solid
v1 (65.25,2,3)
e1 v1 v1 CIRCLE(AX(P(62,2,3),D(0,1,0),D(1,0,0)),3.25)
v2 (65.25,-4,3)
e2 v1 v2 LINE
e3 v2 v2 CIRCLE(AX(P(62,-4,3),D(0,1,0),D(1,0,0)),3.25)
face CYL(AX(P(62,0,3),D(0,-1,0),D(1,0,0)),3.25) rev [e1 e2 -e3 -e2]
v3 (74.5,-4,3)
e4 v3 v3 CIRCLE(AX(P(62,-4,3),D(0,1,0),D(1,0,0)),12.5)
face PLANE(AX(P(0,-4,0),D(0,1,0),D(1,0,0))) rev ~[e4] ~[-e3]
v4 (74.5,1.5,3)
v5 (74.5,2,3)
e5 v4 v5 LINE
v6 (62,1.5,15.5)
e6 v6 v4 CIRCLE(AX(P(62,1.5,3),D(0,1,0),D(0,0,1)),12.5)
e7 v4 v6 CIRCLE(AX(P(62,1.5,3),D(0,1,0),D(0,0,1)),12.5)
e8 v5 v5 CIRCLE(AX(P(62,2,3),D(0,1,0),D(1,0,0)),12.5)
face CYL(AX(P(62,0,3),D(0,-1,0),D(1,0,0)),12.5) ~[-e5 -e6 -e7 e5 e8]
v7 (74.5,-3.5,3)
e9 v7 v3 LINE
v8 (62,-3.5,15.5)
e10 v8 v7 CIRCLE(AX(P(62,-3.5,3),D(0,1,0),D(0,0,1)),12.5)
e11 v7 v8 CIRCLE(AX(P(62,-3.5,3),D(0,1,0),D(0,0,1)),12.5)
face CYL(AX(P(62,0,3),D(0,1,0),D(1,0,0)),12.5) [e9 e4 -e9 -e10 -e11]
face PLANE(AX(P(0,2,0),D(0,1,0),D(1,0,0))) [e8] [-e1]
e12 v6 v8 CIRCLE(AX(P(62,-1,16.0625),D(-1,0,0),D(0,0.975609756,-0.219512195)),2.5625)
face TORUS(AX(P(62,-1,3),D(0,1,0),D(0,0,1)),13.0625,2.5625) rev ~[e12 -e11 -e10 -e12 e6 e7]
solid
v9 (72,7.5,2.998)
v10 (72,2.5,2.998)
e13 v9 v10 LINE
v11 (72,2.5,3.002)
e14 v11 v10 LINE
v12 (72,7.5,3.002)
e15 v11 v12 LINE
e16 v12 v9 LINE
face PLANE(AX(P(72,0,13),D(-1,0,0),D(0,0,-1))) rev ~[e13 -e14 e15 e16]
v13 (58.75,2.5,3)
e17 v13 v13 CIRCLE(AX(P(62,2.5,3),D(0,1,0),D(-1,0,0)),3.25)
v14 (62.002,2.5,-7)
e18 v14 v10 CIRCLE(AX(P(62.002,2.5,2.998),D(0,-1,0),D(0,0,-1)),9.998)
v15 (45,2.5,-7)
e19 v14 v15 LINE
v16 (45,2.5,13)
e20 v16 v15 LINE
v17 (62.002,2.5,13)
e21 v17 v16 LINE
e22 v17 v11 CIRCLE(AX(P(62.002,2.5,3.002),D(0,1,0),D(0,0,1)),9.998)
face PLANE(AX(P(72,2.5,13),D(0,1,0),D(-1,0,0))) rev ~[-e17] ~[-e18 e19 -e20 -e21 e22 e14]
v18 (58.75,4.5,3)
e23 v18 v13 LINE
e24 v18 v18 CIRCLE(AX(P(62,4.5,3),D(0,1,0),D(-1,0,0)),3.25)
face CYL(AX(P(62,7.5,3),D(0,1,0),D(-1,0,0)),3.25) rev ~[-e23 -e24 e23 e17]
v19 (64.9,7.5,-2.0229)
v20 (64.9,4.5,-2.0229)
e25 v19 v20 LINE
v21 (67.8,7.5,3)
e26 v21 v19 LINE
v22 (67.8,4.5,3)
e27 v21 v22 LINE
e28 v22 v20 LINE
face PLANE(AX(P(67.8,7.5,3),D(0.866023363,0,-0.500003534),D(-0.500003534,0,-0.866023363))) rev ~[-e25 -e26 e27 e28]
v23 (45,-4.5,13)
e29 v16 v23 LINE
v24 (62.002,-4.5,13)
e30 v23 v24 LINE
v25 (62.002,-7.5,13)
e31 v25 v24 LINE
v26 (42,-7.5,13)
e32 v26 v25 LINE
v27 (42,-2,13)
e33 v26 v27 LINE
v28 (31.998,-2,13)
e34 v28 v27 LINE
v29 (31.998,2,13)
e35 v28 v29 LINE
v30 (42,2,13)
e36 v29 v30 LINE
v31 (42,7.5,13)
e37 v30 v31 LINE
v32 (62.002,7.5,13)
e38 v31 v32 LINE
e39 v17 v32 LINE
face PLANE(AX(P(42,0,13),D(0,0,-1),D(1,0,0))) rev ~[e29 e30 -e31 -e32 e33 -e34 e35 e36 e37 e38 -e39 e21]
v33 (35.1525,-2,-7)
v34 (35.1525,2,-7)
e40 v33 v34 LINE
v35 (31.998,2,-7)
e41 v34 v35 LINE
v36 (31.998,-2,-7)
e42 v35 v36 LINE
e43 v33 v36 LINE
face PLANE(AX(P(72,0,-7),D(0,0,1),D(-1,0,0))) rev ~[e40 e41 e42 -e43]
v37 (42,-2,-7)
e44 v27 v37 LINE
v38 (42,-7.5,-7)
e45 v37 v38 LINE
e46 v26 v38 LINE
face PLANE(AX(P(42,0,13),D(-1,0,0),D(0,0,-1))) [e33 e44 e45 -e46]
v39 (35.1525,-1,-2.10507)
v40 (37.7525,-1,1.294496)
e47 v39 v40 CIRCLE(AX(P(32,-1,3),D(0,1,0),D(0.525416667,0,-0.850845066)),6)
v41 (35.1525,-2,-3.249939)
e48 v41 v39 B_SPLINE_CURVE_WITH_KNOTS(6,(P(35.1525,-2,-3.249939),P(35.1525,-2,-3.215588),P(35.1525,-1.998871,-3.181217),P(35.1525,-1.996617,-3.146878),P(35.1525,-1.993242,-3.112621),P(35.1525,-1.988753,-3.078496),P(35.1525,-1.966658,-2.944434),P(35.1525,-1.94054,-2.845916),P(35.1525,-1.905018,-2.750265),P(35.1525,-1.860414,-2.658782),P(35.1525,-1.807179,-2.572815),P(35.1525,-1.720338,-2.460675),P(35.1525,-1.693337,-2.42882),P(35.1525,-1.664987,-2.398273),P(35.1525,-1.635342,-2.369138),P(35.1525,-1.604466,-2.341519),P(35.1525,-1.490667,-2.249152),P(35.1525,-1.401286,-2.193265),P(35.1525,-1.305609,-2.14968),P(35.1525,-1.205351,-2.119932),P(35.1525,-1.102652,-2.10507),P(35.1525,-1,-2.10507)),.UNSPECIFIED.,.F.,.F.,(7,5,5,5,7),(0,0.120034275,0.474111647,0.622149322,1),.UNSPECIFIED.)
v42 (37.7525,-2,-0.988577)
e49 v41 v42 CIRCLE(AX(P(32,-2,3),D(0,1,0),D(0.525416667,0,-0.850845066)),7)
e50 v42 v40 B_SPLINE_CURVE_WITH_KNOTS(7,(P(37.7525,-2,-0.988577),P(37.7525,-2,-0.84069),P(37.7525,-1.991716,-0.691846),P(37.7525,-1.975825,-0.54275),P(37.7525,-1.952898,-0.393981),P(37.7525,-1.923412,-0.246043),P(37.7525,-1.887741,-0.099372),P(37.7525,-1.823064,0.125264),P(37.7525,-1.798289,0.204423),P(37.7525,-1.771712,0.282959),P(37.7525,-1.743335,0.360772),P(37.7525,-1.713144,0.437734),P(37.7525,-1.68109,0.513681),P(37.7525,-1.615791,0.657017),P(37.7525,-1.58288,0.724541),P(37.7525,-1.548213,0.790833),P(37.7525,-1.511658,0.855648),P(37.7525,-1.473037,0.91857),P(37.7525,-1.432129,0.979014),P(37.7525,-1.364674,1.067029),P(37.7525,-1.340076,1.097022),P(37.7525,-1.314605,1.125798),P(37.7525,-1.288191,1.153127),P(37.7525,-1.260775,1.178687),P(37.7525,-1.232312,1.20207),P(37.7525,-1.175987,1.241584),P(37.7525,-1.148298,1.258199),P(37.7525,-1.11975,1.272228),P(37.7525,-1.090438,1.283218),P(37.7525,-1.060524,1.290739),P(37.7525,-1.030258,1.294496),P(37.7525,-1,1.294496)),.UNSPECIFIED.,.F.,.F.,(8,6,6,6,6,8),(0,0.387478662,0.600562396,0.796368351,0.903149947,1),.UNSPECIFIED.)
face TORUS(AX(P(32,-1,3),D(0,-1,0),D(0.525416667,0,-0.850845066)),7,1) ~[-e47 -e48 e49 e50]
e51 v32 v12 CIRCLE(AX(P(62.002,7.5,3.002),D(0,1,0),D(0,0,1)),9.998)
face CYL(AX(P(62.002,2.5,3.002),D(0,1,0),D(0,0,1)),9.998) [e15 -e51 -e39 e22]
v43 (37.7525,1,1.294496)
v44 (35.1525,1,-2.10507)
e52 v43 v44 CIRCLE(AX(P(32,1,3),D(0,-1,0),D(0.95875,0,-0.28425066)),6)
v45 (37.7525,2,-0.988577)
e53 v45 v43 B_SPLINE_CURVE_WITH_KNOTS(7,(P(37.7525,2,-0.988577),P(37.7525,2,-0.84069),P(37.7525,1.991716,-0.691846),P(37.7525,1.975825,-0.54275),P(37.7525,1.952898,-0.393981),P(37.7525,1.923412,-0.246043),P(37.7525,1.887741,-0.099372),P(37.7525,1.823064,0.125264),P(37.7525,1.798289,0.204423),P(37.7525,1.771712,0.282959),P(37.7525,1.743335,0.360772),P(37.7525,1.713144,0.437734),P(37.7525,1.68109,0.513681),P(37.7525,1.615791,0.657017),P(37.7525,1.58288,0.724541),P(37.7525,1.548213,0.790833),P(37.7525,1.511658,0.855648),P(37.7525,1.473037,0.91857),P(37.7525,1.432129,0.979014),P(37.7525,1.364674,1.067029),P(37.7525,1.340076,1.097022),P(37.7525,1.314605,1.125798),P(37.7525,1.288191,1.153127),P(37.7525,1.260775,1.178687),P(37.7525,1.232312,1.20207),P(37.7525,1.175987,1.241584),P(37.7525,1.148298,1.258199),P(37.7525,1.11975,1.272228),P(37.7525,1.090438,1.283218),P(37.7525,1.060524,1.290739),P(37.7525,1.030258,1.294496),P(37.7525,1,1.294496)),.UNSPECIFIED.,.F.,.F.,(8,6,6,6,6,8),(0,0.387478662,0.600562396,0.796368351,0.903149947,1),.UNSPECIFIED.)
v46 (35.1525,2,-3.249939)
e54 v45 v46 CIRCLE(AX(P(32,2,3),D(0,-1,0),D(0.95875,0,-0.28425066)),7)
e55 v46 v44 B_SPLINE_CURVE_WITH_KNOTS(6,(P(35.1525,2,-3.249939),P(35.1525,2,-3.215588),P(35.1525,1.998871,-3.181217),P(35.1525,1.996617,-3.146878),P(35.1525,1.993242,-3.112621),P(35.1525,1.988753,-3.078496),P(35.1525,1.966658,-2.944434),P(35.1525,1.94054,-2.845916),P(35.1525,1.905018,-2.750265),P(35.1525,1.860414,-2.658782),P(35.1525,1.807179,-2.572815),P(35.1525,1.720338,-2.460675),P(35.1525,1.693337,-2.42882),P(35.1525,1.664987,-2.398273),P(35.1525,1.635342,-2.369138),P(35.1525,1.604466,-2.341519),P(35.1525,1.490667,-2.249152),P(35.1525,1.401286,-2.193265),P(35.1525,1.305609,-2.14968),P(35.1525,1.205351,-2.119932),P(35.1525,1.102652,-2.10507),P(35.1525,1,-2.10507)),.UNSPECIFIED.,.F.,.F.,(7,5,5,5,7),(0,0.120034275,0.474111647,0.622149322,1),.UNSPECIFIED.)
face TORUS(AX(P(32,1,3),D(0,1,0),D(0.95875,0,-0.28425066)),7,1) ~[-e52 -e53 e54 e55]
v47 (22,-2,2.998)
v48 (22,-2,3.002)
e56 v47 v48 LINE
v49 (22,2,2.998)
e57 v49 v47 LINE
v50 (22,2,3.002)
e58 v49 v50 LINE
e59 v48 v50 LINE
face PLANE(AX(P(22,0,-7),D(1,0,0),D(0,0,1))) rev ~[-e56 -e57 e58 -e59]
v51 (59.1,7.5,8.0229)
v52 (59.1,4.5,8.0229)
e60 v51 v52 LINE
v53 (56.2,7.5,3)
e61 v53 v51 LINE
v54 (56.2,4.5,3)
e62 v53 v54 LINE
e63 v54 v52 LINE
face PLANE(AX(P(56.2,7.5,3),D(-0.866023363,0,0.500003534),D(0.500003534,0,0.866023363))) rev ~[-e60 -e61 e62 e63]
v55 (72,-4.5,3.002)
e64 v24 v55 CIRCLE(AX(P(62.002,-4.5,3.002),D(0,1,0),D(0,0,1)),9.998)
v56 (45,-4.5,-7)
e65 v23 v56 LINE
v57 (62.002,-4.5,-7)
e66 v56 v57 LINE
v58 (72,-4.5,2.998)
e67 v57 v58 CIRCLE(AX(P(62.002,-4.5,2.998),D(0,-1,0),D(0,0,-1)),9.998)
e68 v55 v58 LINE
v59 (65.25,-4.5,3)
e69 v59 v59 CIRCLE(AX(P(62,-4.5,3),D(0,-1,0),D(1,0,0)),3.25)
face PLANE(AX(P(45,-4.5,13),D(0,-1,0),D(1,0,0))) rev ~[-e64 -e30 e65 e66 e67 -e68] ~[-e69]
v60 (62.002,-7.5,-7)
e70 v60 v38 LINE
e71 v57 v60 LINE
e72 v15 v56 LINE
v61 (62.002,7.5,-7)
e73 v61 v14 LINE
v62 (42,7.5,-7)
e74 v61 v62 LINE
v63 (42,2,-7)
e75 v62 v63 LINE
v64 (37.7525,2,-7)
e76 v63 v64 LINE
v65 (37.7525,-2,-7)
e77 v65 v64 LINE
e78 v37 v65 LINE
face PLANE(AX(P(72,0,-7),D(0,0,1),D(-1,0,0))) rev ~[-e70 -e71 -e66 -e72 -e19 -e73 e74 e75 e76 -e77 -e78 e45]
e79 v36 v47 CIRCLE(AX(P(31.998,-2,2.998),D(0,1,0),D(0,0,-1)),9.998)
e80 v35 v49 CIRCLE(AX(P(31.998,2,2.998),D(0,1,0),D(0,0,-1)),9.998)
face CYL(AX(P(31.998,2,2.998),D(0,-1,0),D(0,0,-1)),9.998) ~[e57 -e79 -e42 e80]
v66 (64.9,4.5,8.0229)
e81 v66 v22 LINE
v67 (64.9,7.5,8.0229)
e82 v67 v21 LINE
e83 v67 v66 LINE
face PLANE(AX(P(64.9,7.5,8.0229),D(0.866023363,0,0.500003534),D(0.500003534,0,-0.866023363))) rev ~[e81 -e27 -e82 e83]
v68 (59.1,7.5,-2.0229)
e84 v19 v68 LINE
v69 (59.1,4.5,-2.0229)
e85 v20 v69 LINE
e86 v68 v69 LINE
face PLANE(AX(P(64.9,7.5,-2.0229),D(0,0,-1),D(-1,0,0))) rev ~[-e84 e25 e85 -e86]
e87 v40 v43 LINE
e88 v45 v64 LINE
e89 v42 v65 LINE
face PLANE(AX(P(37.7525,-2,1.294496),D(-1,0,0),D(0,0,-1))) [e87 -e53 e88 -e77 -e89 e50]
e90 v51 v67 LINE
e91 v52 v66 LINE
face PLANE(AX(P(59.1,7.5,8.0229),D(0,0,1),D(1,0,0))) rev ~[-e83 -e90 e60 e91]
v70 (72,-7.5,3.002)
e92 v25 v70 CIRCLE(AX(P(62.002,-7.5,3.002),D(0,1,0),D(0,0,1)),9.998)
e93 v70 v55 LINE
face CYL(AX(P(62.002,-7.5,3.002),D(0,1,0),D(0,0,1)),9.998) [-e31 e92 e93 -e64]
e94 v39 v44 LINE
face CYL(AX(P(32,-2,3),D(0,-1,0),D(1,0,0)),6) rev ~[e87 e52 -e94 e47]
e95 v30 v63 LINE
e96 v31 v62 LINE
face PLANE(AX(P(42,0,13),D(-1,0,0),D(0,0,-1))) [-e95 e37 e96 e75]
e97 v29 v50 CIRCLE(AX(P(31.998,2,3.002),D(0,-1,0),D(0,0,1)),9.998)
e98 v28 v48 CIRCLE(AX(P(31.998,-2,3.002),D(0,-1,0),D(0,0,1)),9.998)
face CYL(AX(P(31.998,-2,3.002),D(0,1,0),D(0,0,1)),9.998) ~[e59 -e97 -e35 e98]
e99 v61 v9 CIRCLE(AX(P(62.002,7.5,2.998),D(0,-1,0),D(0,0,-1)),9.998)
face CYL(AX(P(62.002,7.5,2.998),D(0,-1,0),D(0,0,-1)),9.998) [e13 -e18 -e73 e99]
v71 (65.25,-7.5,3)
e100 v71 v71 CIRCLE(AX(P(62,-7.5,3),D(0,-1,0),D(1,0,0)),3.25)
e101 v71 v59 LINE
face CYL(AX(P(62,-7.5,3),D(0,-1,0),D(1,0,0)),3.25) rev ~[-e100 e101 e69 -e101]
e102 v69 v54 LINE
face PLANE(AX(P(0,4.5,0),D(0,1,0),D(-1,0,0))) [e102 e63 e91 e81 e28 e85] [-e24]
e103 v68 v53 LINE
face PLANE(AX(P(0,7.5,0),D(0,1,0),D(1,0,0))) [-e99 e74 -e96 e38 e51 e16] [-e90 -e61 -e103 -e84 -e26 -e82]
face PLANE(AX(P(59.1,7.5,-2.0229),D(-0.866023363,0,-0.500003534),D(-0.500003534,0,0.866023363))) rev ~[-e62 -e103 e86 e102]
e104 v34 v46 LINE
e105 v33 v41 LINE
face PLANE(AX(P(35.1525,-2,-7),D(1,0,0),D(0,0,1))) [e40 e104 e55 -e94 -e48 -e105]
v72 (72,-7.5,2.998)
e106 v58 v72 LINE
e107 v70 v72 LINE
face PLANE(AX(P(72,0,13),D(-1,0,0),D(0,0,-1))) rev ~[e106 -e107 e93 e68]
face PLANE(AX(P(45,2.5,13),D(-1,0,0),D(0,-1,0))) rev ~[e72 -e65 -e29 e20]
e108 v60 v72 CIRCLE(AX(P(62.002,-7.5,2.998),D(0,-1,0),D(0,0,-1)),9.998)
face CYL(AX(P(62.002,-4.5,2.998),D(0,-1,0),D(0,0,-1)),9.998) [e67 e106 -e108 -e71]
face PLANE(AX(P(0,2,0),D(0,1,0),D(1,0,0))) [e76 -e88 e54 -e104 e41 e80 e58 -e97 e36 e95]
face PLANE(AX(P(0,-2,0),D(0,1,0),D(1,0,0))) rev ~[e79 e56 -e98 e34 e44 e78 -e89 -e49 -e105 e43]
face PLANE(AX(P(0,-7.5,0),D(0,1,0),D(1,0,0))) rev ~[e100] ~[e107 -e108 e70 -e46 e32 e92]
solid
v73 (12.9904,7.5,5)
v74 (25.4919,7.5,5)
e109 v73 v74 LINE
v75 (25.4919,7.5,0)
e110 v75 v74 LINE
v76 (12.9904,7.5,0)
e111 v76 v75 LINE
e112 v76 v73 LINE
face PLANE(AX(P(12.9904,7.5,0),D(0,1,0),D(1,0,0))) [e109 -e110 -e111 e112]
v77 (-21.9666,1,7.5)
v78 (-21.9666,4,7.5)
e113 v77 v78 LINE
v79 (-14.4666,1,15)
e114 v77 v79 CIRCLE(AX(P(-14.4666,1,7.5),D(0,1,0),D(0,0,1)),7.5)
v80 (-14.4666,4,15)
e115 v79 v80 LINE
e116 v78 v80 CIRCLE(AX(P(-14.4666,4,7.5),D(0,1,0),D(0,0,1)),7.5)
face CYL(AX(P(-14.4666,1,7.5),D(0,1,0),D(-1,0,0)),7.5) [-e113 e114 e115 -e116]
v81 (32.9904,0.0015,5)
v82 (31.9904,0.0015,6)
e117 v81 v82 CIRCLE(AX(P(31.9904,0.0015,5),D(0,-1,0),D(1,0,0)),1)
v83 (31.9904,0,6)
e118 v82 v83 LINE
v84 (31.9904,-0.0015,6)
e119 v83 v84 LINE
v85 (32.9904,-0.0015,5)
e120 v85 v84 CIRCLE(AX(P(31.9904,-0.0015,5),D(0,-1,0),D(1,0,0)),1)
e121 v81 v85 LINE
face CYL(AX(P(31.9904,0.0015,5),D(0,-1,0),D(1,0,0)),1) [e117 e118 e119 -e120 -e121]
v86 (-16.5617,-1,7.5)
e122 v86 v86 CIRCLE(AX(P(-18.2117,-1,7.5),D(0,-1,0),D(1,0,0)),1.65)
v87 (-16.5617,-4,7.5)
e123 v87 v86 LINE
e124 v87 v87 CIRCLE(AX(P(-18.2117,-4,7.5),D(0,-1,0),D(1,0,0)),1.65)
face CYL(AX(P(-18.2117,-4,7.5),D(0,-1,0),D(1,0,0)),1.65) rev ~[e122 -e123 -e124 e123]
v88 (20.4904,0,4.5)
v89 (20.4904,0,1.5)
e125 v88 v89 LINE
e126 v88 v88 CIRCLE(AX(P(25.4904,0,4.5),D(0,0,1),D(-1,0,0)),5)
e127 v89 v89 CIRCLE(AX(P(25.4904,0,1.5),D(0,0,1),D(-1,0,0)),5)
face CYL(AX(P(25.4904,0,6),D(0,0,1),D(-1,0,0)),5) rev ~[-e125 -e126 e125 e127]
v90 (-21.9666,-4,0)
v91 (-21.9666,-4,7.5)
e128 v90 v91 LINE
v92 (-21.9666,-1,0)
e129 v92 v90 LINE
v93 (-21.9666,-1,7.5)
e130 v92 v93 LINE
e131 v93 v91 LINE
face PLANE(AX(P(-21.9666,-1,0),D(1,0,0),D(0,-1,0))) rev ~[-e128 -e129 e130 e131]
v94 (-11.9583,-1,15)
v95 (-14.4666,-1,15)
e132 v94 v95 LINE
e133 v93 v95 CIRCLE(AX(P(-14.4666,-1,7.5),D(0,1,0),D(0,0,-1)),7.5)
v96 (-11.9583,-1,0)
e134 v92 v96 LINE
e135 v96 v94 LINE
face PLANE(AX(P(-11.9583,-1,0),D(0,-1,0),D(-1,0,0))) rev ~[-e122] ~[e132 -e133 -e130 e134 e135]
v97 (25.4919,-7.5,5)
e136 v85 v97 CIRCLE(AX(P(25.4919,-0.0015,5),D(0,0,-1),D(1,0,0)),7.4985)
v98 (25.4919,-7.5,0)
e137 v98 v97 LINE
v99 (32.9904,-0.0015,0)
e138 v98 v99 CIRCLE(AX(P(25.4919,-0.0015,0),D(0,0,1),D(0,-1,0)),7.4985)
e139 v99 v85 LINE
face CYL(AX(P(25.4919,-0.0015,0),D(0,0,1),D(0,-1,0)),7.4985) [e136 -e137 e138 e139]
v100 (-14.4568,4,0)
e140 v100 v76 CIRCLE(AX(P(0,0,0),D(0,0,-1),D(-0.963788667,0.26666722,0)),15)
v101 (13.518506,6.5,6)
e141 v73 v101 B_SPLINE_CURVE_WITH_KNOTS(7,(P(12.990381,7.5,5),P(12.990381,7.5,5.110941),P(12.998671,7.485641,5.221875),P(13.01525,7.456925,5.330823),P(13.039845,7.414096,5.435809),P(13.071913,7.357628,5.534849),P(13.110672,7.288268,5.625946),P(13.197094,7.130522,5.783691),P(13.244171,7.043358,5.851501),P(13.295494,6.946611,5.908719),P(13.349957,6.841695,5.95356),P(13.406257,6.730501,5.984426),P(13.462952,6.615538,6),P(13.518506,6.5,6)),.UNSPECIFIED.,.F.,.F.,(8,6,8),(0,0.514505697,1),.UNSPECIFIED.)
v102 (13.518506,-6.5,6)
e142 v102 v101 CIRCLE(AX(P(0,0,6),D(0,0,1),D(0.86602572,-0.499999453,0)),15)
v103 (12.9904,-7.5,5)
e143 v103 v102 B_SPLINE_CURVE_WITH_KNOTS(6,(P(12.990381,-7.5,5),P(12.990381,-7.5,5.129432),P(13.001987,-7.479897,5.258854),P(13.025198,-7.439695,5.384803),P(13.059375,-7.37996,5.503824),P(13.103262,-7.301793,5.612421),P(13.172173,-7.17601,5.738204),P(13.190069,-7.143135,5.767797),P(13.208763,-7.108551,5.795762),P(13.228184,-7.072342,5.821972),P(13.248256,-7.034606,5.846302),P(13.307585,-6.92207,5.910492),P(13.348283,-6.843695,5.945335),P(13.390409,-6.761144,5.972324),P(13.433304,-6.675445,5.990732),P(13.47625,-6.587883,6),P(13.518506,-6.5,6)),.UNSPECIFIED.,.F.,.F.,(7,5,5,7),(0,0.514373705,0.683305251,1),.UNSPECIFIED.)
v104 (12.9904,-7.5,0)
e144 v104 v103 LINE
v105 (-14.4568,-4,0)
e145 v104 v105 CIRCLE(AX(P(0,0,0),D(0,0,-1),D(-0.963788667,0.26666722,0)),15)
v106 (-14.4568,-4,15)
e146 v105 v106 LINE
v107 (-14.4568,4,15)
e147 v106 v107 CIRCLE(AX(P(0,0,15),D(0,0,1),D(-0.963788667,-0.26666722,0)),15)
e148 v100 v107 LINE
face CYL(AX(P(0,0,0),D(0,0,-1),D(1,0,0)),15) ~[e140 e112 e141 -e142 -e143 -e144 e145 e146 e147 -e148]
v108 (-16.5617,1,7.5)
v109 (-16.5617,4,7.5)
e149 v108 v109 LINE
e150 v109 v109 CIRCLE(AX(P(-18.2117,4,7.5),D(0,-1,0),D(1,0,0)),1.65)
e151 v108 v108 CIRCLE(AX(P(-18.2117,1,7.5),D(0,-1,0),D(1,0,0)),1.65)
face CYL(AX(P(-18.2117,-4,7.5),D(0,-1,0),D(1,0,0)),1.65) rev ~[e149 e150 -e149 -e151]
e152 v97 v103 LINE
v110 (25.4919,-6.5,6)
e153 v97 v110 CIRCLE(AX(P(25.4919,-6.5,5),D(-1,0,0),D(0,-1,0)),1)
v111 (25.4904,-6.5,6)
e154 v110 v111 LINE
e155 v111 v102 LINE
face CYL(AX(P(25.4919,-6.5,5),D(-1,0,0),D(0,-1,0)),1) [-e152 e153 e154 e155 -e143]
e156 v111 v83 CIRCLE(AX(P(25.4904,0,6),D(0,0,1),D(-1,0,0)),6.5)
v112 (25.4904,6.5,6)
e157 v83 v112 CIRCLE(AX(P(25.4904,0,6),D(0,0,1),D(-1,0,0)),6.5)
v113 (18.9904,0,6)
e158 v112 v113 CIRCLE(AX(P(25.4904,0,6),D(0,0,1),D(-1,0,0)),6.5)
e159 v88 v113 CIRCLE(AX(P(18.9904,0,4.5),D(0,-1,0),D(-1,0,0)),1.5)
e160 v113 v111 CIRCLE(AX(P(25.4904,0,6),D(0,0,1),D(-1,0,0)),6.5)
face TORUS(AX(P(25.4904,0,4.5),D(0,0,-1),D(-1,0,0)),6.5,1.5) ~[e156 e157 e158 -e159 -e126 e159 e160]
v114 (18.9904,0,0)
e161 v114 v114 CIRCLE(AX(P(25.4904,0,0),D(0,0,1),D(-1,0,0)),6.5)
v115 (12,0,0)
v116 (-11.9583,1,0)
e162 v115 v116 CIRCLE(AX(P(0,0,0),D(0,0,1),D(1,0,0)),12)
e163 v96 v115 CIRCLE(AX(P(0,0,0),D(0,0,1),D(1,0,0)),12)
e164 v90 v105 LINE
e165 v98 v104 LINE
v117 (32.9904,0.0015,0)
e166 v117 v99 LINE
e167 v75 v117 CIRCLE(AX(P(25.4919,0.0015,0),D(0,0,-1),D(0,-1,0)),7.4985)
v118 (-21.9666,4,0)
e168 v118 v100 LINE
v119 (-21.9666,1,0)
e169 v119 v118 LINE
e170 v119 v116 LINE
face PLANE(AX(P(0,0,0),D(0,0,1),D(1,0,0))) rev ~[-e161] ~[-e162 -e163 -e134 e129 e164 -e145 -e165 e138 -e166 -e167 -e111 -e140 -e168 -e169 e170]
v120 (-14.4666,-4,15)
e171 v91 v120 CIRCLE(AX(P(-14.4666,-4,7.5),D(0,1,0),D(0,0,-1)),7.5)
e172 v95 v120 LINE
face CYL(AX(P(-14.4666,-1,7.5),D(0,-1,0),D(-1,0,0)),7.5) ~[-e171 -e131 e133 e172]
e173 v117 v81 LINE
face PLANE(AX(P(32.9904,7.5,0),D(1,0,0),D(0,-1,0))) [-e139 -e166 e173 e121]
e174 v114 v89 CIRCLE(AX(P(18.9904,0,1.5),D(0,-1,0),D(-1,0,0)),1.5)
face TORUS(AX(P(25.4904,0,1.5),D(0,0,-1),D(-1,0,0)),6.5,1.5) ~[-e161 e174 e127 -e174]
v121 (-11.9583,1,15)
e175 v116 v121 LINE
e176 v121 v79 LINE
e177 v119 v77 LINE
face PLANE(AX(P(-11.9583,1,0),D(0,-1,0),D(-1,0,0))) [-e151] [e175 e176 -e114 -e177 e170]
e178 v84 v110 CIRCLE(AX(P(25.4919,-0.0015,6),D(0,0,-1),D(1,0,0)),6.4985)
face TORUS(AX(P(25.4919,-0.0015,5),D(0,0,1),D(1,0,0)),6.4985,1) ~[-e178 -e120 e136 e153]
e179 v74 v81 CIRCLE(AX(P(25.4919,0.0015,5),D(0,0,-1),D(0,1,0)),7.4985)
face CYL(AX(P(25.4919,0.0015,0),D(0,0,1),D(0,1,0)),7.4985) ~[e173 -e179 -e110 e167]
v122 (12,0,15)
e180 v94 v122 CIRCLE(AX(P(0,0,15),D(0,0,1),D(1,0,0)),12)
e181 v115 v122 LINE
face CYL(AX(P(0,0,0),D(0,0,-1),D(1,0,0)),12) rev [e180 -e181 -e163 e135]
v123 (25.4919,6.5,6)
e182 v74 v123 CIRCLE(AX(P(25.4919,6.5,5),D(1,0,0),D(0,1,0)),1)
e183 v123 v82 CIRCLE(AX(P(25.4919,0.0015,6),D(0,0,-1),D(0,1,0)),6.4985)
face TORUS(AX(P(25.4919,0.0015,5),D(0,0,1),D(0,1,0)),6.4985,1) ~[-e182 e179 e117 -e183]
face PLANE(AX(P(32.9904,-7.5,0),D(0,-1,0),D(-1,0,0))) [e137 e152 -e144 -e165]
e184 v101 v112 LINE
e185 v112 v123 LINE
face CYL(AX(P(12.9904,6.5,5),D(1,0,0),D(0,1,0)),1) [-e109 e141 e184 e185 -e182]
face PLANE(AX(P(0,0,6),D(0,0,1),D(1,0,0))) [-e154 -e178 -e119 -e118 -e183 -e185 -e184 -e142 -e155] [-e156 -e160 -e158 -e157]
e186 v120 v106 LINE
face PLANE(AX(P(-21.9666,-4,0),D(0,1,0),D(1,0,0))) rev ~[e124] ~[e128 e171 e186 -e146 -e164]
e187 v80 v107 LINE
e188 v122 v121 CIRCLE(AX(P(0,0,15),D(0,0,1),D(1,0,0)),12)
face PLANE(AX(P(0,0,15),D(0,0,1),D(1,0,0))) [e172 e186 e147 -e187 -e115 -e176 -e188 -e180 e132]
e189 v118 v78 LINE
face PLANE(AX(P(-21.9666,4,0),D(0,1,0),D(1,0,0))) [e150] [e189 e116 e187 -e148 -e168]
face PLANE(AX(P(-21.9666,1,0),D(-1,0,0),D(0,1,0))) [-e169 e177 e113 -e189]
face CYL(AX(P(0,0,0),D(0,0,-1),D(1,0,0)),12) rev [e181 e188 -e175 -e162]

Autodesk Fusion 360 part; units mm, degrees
sketch "Sketch1" plane through (0, 0, 0) normal (0, 0, 1) x (1, 0, 0) in component "Mount"
  circle A0 centre (0, 0) radius 12
  circle A1 centre (0, 0) radius 15
  line L0 (0, 0) -> (-35, 0) construction
  line L1 (-11.9583, 1) -> (-14.9666, 1)
  line L2 (-11.9583, -1) -> (-14.9666, -1)
  line L3 (-14.9666, 1) -> (-21.9666, 1)
  line L4 (-21.9666, 1) -> (-21.9666, 4)
  line L5 (-21.9666, 4) -> (-14.4568, 4)
  line L6 (-21.9666, -4) -> (-14.4568, -4)
  line L7 (-21.9666, -1) -> (-21.9666, -4)
  line L8 (-14.9666, -1) -> (-21.9666, -1)
  line L9 (12.9904, 7.5) -> (32.9904, 7.5)
  line L10 (32.9904, 7.5) -> (32.9904, -7.5)
  line L11 (32.9904, -7.5) -> (12.9904, -7.5)
  dimension "d1" = 24
  dimension "d2" = 3
  dimension "d3" = 1
  dimension "d4" = 7
  dimension "d5" = 3
  dimension "d6" = 20
  dimension "d7" = 15
  dimension "d8" = 7.5
extrude "Extrude1" add sketch "Sketch1" along normal blind 15 contours A0 A1 L1 L2 | A1 L3 L4 L5 | A1 L6 L7 L8 picked at (11.5885, 7.8068) makes body 1 in component "Mount"
extrude "Extrude2" add sketch "Sketch1" along normal blind 6 contours A1 L9 L10 L11 bodies 1 in component "Mount"
sketch "Sketch2" plane through (0, 0, 6) normal (0, 0, 1) x (-1, 0, 0) in component "Mount"
  line L0 (-32.9904, 7.5) -> (-32.9904, -7.5)
  line L1 (-32.9904, -7.5) -> (-12.9904, -7.5)
  arc A0 (-12.9904, 7.5) -> (-12.9904, -7.5) centre (0, 0) ccw
  line L2 (-12.9904, 7.5) -> (-32.9904, 7.5)
  line L3 (-32.9904, -7.5) -> (-17.9904, 7.5) construction
  line L4 (-32.9904, -7.5) -> (-12.6364, -7.5) construction
  line L5 (-32.9904, 7.5) -> (-17.9904, -7.5) construction
  line L6 (-32.9904, 7.5) -> (-12.6364, 7.5) construction
  circle A1 centre (-25.4904, 0) radius 5
  dimension "d13" = 45
  dimension "d14" = 45
  dimension "d15" = 10
extrude "Extrude3" cut sketch "Sketch2" against normal blind 10 contours A1 bodies 1 in component "Mount"
fillet "Fillet1" radius 1.5 2 edges at (30.152, -1.8081, 6) (30.152, 1.8081, 0) on bodies 1 in component "Mount"
fillet "Fillet2" radius 7.5 2 edges at (32.9904, -7.5, 3) (32.9904, 7.5, 3) on bodies 1 in component "Mount"
fillet "Fillet3" radius 1 3 edges at (19.2404, 7.5, 6) (32.9904, 0, 6) (19.2404, -7.5, 6) on bodies 1 in component "Mount"
sketch "Sketch3" plane through (0, -4, 0) normal (0, -1, 0) x (1, 0, 0) in component "Mount"
  line L0 (-21.9666, 0) -> (-14.4568, 0)
  line L1 (-14.4568, 0) -> (-14.4568, 15)
  line L2 (-14.4568, 15) -> (-21.9666, 15)
  line L3 (-21.9666, 15) -> (-21.9666, 0)
  circle A0 centre (-18.2117, 7.5) radius 1.65
  line L4 (-21.9666, 7.5) -> (-14.4568, 7.5) construction
  dimension "d24" = 3.3
extrude "Extrude4" cut sketch "Sketch3" against normal blind 8 contours A0 bodies 1 in component "Mount"
fillet "Fillet4" radius 7.5 2 edges at (-21.9666, 2.5, 15) (-21.9666, -2.5, 15) on bodies 1 in component "Mount"
copy_body "CutPasteBodies1" bodies 1 removing the originals makes body 2 in component "Mount"
sketch "Sketch1 (2)" plane through (0, 0, 0) normal (0, 1, 0) x (1, 0, 0) in component "Housing"
  line L0 (22, -13) -> (72, -13)
  line L1 (72, -13) -> (72, 7)
  line L2 (72, 7) -> (22, 7)
  line L3 (22, 7) -> (22, -13)
  line L4 (72, -13) -> (42, -13)
  line L5 (42, -13) -> (42, 7)
  line L6 (42, 7) -> (72, 7)
  line L7 (72, 7) -> (72, -13)
  dimension "d29" = 22
  dimension "d30" = 20
  dimension "d31" = 7
  dimension "d32" = 50
  dimension "d33" = 30
extrude "Extrude1'" add sketch "Sketch1 (2)" along normal mid plane 15 separate body contours L0 L1 L2 L4 L5 L6 L7 makes body 3 in component "Housing"
extrude "Extrude2'" add sketch "Sketch1 (2)" along normal mid plane 4 contours L0 L2 L3 L5 bodies 3 in component "Housing"
sketch "Sketch1 (1)" plane through (0, -2, 0) normal (0, -1, 0) x (1, 0, 0) in component "Housing"
  line L0 (42, -7) -> (42, 13)
  line L1 (42, 13) -> (22, 13)
  line L2 (22, 13) -> (22, -7)
  line L3 (22, -7) -> (42, -7)
  circle A0 centre (32, 3) radius 6
  dimension "d40" = 12
  dimension "d41" = 10
  dimension "d42" = 10
extrude "Extrude3'" cut sketch "Sketch1 (1)" against normal blind 4 contours A0 bodies 3 in component "Housing"
fillet "Fillet1'" radius 10 2 edges at (22, 0, 13) (22, 0, -7) on bodies 3 in component "Housing"
sketch "Sketch2 (2)" plane through (0, -2, 0) normal (0, -1, 0) x (1, 0, 0) in component "Housing"
  arc A0 (32, 13) -> (32, -7) centre (32, 3) ccw
  line L0 (32, -7) -> (42, -7)
  line L1 (42, -7) -> (42, 13)
  line L2 (42, 13) -> (32, 13)
  circle A1 centre (32, 3) radius 6
  line L3 (35.1525, 1.8205) -> (37.7525, 1.8205)
  line L4 (37.7525, 1.8205) -> (37.7525, -10.0619)
  line L5 (37.7525, -10.0619) -> (35.1525, -10.0619)
  line L6 (35.1525, -10.0619) -> (35.1525, 1.8205)
  dimension "d47" = 2.6
extrude "Extrude4'" cut sketch "Sketch2 (2)" against normal blind 4 contours L0 A1 L4 L6 bodies 3 in component "Housing"
fillet "Fillet2'" radius 1 2 edges at (27.2341, -2, 6.645) (27.2341, 2, 6.645) on bodies 3 in component "Housing"
sketch "Sketch3 (2)" plane through (0, 0, 13) normal (0, 0, 1) x (-1, 0, 0) in component "Housing"
  line L0 (-32, -2) -> (-32, 2)
  line L1 (-32, 2) -> (-42, 2)
  line L2 (-42, 2) -> (-42, 7.5)
  line L3 (-42, 7.5) -> (-72, 7.5)
  line L4 (-72, 7.5) -> (-72, -7.5)
  line L5 (-72, -7.5) -> (-42, -7.5)
  line L6 (-42, -7.5) -> (-42, -2)
  line L7 (-42, -2) -> (-32, -2)
  line L8 (-72, -2.5) -> (-45, -2.5)
  line L9 (-45, -2.5) -> (-45, 4.5)
  line L10 (-45, 4.5) -> (-72, 4.5)
  line L11 (-72, 4.5) -> (-72, -2.5)
  dimension "d52" = 5
  dimension "d53" = 3
  dimension "d54" = 3
extrude "Extrude5" cut sketch "Sketch3 (2)" against normal blind 20 contours L4 L8 L9 L10 L11 bodies 3 in component "Housing"
fillet "Fillet3'" radius 10 4 edges at (72, -6, 13) (72, 5, 13) (72, 5, -7) (72, -6, -7) on bodies 3 in component "Housing"
sketch "Sketch4" plane through (0, -7.5, 0) normal (0, -1, 0) x (1, 0, 0) in component "Housing"
  arc A0 (62, -7) -> (62, 13) centre (62, 3) ccw
  line L0 (62, 13) -> (42, 13)
  line L1 (42, 13) -> (42, -7)
  line L2 (42, -7) -> (62, -7)
  circle A1 centre (62, 3) radius 3.25
  dimension "d59" = 6.5
extrude "Extrude6" cut sketch "Sketch4" against normal blind 3 contours A1 bodies 3 in component "Housing"
sketch "Sketch5" plane through (0, 7.5, 0) normal (0, 1, 0) x (-1, 0, 0) in component "Housing"
  arc A0 (-62, 13) -> (-62, -7) centre (-62, 3) ccw
  line L0 (-62, -7) -> (-42, -7)
  line L1 (-42, -7) -> (-42, 13)
  line L2 (-42, 13) -> (-62, 13)
  circle A1 centre (-62, 3) radius 3.25
  circle A2 centre (-62, 3) radius 5.8
  line L3 (-56.2, 3) -> (-59.1, 8.0229)
  line L4 (-59.1, 8.0229) -> (-64.9, 8.0229)
  line L5 (-64.9, 8.0229) -> (-67.8, 3)
  line L6 (-67.8, 3) -> (-64.9, -2.0229)
  line L7 (-64.9, -2.0229) -> (-59.1, -2.0229)
  line L8 (-59.1, -2.0229) -> (-56.2, 3)
  point P0 (-62, 3)
  dimension "d62" = 11.6
extrude "Extrude7" cut sketch "Sketch5" against normal blind 3 contours A1 | L3 L4 L5 L6 L7 L8 bodies 3 in component "Housing"
extrude "Extrude8" cut sketch "Sketch5" against normal blind 5 contours A1 bodies 3 in component "Housing"
sketch "Sketch2 (3)" plane through (0, 0, 0) normal (0, 1, 0) x (1, 0, 0) in component "Reel"
  circle A0 centre (62, -3) radius 12.5
  circle A1 centre (62, -3) radius 3.25
  dimension "d67" = 25
extrude "Extrude2''" add sketch "Sketch2 (3)" along normal blind 2 and the other way blind 4 separate body makes body 4 in component "Reel"
ref_plane "WorkPlane1" through (62, -4.5, 13) normal (-1, 0, 0) x (0, -1, 0) in component "Reel"
sketch "Sketch3 (3)" plane through (62, -4.5, 13) normal (-1, 0, 0) x (0, 1, 0) in component "Reel"
  line L0 (0.5, 22.5) -> (0.5, -2.5)
  line L1 (6.5, -2.5) -> (6.5, 22.5)
  line L2 (0.5, -2.5) -> (6.5, -2.5)
  line L3 (0.5, -2.5) -> (1, -2.5)
  line L4 (6.5, -2.5) -> (6, -2.5)
  arc A0 (6, -2.5) -> (1, -2.5) centre (3.5, -3.0625) ccw
  dimension "d73" = 0.5
  dimension "d74" = 0.5
  dimension "d75" = 2.5625
  dimension "d76" = 360
revolve "Revolve1" cut sketch "Sketch3 (3)" angle 360 about axis through (62, -9, 3) along (0, 1, 0) bodies 4 in component "Reel"
component "Mount" placed x (1, 0, 0) y (0, 1, 0) z (0, 0, 1) at (0, 0, 0)
component "Pully" placed x (1, 0, 0) y (0, 1, 0) z (0, 0, 1) at (0, 0, 0)
component "Housing" placed x (1, 0, 0) y (0, 1, 0) z (0, 0, 1) at (0, 0, 0) in component "Pully"
component "Reel" placed x (1, 0, 0) y (0, 1, 0) z (0, 0, 1) at (0, 0, 0) in component "Pully"
equation "d68 = 2.50 mm - 0.5 mm"
equation "d70 = 4.50 mm - 0.5 mm"
